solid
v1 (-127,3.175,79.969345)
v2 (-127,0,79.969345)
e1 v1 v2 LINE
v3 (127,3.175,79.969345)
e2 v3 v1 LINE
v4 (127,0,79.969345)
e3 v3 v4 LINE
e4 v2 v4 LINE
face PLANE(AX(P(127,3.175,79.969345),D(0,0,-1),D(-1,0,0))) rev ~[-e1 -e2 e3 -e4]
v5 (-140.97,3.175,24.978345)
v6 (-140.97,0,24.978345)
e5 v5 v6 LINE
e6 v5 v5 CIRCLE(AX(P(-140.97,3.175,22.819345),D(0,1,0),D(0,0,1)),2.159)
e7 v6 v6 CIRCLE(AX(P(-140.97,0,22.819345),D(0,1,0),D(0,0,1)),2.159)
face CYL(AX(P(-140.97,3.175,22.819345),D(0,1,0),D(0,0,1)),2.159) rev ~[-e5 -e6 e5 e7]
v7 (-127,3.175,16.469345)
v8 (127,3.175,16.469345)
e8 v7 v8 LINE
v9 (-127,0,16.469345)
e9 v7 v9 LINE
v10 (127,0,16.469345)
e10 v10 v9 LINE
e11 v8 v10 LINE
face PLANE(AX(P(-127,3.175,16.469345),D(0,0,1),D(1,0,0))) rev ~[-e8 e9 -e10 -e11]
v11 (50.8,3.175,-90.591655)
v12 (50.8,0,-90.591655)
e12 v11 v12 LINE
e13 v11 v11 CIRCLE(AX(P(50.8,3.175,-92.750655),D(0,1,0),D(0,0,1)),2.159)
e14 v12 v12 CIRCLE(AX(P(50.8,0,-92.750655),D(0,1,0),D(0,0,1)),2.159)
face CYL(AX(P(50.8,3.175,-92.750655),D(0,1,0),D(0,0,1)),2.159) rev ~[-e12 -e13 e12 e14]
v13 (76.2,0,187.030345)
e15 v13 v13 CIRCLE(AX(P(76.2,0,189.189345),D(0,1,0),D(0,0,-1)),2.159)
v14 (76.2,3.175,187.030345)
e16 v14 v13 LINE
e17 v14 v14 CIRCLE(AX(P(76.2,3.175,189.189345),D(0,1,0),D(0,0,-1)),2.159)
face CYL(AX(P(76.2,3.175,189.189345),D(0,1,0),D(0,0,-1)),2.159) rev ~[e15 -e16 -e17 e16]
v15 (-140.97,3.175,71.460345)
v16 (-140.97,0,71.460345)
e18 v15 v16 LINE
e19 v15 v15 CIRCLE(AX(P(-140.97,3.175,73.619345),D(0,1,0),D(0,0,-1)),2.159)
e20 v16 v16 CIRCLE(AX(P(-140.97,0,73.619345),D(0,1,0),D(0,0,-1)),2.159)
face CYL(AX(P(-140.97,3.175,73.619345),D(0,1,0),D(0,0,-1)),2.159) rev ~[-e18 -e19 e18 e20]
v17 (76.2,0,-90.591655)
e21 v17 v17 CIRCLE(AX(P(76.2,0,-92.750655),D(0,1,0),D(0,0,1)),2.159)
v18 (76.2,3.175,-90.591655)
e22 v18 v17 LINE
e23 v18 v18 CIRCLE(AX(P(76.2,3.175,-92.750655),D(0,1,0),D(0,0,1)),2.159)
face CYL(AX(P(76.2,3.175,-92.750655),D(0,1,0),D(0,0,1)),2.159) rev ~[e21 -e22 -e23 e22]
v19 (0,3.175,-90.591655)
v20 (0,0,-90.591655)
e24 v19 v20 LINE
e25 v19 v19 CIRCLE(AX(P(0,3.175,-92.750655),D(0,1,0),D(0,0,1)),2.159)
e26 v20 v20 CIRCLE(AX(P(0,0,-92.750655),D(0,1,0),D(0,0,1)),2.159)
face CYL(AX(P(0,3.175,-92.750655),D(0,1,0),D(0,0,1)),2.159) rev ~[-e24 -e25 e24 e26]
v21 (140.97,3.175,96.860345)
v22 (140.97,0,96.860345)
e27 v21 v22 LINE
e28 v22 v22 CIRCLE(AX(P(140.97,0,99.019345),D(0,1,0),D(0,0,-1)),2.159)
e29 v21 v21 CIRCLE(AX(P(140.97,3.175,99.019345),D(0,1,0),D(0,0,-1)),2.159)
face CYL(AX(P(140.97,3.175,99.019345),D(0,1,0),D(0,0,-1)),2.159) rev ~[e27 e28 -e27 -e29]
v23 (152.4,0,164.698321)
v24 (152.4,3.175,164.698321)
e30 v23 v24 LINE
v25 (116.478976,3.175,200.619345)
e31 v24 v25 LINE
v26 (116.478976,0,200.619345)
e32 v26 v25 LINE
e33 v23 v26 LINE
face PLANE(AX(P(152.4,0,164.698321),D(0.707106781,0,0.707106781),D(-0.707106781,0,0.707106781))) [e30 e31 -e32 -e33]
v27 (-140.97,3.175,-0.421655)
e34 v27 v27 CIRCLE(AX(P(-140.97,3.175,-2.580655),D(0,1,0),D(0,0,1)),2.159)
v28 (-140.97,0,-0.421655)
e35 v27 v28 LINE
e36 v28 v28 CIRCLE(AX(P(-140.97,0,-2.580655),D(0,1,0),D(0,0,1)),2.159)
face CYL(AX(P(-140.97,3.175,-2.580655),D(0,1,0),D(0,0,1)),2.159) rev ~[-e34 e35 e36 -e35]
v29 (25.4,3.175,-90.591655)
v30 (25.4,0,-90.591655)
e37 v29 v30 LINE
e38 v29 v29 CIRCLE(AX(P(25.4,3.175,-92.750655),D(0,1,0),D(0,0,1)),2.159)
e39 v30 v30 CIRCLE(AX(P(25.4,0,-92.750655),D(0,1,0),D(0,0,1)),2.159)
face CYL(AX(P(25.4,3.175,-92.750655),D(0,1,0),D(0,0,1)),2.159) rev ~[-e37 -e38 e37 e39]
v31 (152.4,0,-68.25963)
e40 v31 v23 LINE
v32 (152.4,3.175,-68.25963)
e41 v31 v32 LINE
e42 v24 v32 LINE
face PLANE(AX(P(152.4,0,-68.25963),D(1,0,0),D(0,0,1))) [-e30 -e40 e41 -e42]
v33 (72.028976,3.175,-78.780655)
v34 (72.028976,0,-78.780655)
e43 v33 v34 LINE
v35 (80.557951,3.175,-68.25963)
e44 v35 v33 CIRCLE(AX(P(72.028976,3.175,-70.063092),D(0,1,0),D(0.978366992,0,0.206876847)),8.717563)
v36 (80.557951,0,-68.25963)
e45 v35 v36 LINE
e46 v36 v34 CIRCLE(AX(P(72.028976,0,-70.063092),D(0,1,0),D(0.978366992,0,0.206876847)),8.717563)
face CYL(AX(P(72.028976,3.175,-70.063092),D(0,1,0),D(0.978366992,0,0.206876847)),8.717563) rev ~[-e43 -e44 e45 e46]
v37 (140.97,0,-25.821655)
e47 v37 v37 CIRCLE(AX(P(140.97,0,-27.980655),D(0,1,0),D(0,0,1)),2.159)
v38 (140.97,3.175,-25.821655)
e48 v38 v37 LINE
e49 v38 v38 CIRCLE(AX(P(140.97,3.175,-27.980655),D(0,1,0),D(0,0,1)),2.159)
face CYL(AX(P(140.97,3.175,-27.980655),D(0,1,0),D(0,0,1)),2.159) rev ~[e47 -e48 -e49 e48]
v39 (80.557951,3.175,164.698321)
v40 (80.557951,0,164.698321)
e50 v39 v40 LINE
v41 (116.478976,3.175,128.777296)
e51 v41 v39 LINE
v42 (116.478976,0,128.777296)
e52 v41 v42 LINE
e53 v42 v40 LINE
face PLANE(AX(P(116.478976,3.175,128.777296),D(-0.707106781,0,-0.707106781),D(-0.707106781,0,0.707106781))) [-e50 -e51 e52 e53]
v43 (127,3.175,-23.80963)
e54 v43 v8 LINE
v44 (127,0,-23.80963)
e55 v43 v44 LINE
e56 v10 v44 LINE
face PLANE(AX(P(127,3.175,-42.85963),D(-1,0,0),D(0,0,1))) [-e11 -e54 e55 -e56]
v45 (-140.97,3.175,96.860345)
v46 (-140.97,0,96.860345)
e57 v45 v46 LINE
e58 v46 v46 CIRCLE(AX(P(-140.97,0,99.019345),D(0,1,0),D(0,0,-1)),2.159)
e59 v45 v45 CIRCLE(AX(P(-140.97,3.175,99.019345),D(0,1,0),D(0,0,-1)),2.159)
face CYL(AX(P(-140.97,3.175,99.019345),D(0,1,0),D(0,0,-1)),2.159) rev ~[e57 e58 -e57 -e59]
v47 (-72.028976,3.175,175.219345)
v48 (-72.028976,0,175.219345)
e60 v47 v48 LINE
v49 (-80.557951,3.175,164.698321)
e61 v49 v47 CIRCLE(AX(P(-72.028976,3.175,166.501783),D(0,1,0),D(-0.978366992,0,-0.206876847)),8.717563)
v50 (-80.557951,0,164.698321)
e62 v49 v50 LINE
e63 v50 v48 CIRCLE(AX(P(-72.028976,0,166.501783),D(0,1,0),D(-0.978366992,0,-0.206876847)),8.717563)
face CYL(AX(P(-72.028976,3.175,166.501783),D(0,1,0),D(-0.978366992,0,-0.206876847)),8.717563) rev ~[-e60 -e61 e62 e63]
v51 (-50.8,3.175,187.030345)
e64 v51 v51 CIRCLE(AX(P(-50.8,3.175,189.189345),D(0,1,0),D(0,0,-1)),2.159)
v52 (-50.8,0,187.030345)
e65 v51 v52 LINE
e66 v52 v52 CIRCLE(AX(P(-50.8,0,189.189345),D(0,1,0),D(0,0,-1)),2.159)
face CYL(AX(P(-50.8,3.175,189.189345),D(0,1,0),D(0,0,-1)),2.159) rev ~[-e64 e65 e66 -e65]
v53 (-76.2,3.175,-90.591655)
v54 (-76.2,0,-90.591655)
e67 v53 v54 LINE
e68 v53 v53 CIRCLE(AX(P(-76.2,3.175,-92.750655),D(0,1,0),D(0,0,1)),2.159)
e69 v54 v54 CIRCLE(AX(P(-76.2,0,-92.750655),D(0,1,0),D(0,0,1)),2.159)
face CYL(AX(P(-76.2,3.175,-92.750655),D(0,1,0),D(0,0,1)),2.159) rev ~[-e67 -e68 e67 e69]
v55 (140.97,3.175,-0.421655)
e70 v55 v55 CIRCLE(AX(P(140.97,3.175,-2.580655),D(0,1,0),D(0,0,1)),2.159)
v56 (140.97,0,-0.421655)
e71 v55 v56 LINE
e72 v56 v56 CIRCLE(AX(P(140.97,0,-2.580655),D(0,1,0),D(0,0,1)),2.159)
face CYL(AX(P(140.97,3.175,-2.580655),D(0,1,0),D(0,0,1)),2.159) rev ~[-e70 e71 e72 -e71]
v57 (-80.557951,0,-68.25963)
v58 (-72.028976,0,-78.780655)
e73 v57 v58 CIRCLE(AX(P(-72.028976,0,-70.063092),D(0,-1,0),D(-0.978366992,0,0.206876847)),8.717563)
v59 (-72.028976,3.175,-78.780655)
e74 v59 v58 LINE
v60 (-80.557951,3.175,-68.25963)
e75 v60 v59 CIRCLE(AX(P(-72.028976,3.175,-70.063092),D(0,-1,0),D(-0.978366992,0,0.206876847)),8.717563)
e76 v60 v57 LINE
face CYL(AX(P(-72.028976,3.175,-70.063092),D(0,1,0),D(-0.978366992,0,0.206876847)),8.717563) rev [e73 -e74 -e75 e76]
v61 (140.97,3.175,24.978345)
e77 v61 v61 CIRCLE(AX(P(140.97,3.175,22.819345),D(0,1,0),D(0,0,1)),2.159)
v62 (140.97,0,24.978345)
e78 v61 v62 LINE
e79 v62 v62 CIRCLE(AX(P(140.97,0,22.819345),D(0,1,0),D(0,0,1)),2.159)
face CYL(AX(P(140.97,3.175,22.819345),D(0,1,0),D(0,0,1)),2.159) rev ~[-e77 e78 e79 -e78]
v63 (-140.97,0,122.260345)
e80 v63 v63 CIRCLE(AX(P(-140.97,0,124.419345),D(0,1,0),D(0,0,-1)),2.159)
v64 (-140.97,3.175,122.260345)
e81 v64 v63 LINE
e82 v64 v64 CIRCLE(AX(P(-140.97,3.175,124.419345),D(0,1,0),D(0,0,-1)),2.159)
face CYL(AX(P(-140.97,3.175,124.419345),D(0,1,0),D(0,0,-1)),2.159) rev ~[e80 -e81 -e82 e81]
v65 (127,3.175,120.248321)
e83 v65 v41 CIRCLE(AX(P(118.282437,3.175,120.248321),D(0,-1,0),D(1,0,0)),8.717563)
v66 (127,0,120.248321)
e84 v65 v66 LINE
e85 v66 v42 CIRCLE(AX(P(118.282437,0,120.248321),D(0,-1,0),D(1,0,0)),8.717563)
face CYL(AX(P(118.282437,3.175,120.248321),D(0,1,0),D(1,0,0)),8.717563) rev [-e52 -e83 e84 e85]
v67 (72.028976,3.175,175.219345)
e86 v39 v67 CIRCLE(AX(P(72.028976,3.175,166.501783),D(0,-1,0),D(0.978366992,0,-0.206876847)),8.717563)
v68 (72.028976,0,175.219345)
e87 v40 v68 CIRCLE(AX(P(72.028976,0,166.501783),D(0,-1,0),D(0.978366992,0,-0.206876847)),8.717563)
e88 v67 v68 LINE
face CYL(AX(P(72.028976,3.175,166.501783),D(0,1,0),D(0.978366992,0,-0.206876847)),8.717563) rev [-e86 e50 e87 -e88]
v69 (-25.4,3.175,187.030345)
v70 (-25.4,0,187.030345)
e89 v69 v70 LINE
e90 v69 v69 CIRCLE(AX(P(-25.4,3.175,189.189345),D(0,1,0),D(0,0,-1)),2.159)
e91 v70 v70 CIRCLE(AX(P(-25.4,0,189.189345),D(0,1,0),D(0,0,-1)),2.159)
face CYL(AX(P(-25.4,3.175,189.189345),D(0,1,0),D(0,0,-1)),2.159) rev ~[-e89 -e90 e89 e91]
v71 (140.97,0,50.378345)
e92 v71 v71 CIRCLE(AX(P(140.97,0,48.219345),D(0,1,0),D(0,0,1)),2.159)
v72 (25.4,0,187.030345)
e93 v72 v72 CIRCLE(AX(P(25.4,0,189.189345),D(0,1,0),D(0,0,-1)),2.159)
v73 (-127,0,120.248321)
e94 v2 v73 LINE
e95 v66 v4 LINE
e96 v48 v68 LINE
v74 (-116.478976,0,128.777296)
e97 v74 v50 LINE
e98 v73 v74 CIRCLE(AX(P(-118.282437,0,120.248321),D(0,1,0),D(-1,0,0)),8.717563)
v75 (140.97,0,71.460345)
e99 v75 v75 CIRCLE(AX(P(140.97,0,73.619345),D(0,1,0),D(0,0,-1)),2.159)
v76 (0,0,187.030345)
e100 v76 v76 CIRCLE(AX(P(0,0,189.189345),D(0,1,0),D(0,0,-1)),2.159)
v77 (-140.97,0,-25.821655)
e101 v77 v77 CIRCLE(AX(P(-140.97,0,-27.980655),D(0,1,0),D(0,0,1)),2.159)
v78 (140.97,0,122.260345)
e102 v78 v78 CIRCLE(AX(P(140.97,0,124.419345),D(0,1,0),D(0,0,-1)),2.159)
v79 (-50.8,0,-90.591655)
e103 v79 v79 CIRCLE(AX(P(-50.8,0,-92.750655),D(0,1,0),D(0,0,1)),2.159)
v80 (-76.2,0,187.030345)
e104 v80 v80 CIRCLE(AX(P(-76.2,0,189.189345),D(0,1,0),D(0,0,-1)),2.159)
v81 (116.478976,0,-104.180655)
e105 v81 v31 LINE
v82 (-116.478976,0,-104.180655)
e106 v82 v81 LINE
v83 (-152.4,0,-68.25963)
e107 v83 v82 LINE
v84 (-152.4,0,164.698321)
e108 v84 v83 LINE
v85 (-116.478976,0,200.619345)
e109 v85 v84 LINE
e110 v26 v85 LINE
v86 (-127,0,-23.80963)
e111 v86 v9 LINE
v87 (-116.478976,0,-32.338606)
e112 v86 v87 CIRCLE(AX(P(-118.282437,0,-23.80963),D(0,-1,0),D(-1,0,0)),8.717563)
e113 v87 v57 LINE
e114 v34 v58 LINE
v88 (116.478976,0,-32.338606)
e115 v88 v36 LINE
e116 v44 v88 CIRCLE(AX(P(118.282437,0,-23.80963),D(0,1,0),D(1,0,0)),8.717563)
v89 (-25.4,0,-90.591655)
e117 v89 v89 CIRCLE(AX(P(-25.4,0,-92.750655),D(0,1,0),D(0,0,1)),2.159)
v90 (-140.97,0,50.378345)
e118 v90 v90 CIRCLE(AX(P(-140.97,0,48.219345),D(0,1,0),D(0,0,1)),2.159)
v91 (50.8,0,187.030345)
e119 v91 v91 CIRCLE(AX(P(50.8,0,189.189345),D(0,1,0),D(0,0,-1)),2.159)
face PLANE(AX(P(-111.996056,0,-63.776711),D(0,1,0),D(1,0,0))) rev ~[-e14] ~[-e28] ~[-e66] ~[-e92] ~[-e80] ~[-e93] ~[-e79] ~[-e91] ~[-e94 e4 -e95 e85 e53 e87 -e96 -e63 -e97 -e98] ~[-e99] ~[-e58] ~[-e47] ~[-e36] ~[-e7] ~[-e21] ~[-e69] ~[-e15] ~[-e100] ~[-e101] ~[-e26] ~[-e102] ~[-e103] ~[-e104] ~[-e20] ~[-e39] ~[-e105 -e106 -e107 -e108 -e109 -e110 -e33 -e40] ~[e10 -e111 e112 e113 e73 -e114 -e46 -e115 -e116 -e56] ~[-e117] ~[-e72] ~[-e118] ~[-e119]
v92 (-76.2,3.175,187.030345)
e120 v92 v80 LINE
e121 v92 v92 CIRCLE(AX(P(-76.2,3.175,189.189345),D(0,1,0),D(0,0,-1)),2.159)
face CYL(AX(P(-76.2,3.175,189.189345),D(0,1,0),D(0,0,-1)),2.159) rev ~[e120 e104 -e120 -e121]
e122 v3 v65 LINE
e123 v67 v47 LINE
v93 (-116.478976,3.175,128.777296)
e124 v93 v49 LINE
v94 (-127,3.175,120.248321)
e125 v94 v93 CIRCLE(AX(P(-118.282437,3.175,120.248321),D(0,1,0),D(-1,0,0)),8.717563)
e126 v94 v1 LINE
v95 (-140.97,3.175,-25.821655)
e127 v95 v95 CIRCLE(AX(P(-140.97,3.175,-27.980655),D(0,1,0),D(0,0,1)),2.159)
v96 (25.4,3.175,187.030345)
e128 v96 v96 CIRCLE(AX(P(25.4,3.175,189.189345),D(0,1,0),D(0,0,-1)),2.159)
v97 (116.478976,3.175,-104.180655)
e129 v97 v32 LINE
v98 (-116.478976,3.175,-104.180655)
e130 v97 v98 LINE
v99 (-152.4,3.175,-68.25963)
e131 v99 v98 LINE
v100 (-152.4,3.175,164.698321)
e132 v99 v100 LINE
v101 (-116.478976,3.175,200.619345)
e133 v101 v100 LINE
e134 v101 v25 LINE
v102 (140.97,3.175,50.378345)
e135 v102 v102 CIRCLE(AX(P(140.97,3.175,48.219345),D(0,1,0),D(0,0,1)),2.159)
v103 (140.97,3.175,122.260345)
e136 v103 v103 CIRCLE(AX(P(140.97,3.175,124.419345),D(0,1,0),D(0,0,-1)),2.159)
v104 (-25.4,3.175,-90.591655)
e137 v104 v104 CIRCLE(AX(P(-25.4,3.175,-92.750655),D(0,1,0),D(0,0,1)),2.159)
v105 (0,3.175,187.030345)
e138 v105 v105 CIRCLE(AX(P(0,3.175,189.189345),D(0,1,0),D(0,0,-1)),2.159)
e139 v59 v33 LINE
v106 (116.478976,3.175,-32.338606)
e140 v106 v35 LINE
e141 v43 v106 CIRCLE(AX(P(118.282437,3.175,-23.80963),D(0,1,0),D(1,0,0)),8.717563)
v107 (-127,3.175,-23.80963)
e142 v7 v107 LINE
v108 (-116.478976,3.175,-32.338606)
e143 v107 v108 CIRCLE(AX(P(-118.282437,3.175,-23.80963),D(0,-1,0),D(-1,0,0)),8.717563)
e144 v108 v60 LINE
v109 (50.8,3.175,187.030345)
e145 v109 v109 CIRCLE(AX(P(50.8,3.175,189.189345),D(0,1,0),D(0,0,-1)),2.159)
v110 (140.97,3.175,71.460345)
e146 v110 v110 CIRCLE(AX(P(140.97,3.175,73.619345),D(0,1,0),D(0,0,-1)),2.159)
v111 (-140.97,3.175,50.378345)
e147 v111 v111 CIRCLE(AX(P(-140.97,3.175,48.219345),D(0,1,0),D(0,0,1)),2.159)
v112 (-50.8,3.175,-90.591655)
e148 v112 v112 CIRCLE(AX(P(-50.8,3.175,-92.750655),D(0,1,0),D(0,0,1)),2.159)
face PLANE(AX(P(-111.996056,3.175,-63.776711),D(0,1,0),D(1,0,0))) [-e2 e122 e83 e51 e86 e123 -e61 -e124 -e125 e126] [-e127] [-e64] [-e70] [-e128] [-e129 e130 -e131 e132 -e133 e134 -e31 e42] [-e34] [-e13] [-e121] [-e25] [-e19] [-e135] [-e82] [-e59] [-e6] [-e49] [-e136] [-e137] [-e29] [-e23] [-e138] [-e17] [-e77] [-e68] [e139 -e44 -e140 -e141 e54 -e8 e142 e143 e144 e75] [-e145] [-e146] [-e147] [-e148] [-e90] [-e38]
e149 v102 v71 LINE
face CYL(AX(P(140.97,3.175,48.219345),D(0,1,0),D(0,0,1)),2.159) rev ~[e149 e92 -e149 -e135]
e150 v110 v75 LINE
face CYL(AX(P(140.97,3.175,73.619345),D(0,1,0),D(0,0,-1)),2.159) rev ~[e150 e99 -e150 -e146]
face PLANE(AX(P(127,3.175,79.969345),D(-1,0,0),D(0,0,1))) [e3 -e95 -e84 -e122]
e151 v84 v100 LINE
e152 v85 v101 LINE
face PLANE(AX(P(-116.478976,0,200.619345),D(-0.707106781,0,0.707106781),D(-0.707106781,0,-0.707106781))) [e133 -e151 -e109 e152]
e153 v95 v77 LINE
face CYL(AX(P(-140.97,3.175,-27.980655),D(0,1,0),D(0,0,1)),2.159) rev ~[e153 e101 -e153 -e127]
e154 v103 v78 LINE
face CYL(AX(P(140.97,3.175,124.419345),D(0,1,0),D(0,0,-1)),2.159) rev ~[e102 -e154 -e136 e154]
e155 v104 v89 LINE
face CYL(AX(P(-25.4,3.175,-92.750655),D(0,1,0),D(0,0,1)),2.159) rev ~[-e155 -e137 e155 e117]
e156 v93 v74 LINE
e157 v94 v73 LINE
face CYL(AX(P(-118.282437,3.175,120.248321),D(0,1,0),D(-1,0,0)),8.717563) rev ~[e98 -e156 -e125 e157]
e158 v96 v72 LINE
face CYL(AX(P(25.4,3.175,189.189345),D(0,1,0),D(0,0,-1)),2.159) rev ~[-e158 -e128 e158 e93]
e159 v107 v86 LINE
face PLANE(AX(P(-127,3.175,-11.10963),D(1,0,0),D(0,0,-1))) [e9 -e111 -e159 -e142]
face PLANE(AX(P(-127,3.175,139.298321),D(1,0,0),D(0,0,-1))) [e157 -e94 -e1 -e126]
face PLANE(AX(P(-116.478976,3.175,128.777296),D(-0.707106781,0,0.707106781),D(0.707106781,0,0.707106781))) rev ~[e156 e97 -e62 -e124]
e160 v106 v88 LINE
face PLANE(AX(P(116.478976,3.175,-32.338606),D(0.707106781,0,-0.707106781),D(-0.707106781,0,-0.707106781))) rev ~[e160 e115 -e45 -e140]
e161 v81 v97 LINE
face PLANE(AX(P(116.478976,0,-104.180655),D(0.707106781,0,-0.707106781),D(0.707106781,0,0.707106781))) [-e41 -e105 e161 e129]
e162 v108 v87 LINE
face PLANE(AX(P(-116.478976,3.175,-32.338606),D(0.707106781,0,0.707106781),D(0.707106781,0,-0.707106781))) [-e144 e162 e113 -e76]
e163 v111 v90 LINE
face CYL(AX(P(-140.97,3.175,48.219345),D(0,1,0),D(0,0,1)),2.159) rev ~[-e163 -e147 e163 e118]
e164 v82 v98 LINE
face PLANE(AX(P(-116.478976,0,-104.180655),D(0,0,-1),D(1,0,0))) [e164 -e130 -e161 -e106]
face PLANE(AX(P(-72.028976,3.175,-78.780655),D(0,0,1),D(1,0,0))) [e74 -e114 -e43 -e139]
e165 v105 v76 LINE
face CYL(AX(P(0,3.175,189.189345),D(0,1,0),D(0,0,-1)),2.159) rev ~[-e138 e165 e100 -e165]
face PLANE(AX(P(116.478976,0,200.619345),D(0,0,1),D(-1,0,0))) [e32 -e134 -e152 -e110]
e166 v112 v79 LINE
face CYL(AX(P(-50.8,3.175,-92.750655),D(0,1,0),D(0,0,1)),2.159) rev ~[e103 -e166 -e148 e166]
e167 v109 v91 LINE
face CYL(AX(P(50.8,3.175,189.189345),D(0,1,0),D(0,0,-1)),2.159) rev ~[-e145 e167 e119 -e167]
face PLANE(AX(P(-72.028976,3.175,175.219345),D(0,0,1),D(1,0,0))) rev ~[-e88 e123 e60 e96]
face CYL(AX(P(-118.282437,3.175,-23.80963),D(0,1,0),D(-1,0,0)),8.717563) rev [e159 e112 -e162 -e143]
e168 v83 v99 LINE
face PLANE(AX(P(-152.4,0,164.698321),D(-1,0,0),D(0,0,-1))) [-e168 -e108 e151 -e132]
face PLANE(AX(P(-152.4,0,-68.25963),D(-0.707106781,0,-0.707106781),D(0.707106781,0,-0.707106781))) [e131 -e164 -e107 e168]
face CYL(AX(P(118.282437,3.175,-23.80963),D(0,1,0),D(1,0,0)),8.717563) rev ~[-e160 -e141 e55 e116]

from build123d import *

# Parameters (mm, degrees)
BOSS_EXTRUDE1_DEPTH = 3.175
CUT_EXTRUDE1_DEPTH  = 252.960239461
BOSS_EXTRUDE2_DEPTH = 3.175
SKETCH4_R           = 2.159
CUT_EXTRUDE2_DEPTH  = 252.960239461


with BuildPart() as part:
    # Sketch1 → Boss-Extrude1 (new body)
    with BuildSketch(Plane(origin=(0, 0, 0), x_dir=(1, 0, 0), z_dir=(0, 1, 0))):
        Polygon((-152.4, 68.259630377), (-116.478975516, 104.180654861), (116.478975516, 104.180654861), (152.4, 68.259630377), (152.4, -164.698320655), (116.478975516, -200.619345139), (-116.478975516, -200.619345139), (-152.4, -164.698320655), align=None)
    extrude(amount=BOSS_EXTRUDE1_DEPTH)

    # Sketch2 → Cut-Extrude1 (cut, through all)
    with BuildSketch(Plane(origin=(0, 3.175, 0), x_dir=(1, 0, 0), z_dir=(0, 1, 0))):
        Polygon((-91.078975516, 78.780654861), (91.078975516, 78.780654861), (127, 42.859630377), (127, -16.469345139), (82.442975516, -16.469345139), (-74.314975516, -16.469345139), (-127, -16.469345139), (-127, 42.859630377), align=None)
        Polygon((127, -139.298320655), (91.078975516, -175.219345139), (-91.078975516, -175.219345139), (-127, -139.298320655), (-127, -79.969345139), (-74.314975516, -79.969345139), (82.442975516, -79.969345139), (127, -79.969345139), align=None)
    extrude(amount=-CUT_EXTRUDE1_DEPTH, mode=Mode.SUBTRACT)

    # Sketch5 → Boss-Extrude2 (add)
    with BuildSketch(Plane(origin=(0, 3.175, 0), x_dir=(1, 0, 0), z_dir=(0, 1, 0))):
        with BuildLine():
            Line((-116.478975516, 32.338605892), (-80.557951031, 68.259630377))
            ThreePointArc((-80.557951031, 68.259630377), (-78.800891411, 75.552814743), (-72.028975516, 78.780654861))
            Line((-72.028975516, 78.780654861), (-59.328975516, 78.780654861))
            Line((-59.328975516, 78.780654861), (-59.328975516, 104.180654861))
            Line((-59.328975516, 104.180654861), (-116.478975516, 104.180654861))
            Line((-116.478975516, 104.180654861), (-152.4, 68.259630377))
            Line((-152.4, 68.259630377), (-152.4, 11.109630377))
            Line((-152.4, 11.109630377), (-127, 11.109630377))
            Line((-127, 11.109630377), (-127, 23.809630377))
            ThreePointArc((-127, 23.809630377), (-123.772159882, 30.581546271), (-116.478975516, 32.338605892))
        make_face()
        with BuildLine():
            Line((127, 11.109630377), (127, 23.809630377))
            ThreePointArc((127, 23.809630377), (123.772159882, 30.581546271), (116.478975516, 32.338605892))
            Line((116.478975516, 32.338605892), (80.557951031, 68.259630377))
            ThreePointArc((80.557951031, 68.259630377), (78.800891411, 75.552814743), (72.028975516, 78.780654861))
            Line((72.028975516, 78.780654861), (59.328975516, 78.780654861))
            Line((59.328975516, 78.780654861), (59.328975516, 104.180654861))
            Line((59.328975516, 104.180654861), (116.478975516, 104.180654861))
            Line((116.478975516, 104.180654861), (152.4, 68.259630377))
            Line((152.4, 68.259630377), (152.4, 11.109630377))
            Line((152.4, 11.109630377), (127, 11.109630377))
        make_face()
        with BuildLine():
            Line((116.478975516, -128.777296171), (80.557951031, -164.698320655))
            ThreePointArc((80.557951031, -164.698320655), (78.800891411, -171.991505021), (72.028975516, -175.219345139))
            Line((72.028975516, -175.219345139), (59.328975516, -175.219345139))
            Line((59.328975516, -175.219345139), (59.328975516, -200.619345139))
            Line((59.328975516, -200.619345139), (116.478975516, -200.619345139))
            Line((116.478975516, -200.619345139), (152.4, -164.698320655))
            Line((152.4, -164.698320655), (152.4, -107.548320655))
            Line((152.4, -107.548320655), (127, -107.548320655))
            Line((127, -107.548320655), (127, -120.248320655))
            ThreePointArc((127, -120.248320655), (123.772159882, -127.02023655), (116.478975516, -128.777296171))
        make_face()
        with BuildLine():
            Line((-127, -107.548320655), (-127, -120.248320655))
            ThreePointArc((-127, -120.248320655), (-123.772159882, -127.02023655), (-116.478975516, -128.777296171))
            Line((-116.478975516, -128.777296171), (-80.557951031, -164.698320655))
            ThreePointArc((-80.557951031, -164.698320655), (-78.800891411, -171.991505021), (-72.028975516, -175.219345139))
            Line((-72.028975516, -175.219345139), (-59.328975516, -175.219345139))
            Line((-59.328975516, -175.219345139), (-59.328975516, -200.619345139))
            Line((-59.328975516, -200.619345139), (-116.478975516, -200.619345139))
            Line((-116.478975516, -200.619345139), (-152.4, -164.698320655))
            Line((-152.4, -164.698320655), (-152.4, -107.548320655))
            Line((-152.4, -107.548320655), (-127, -107.548320655))
        make_face()
    extrude(amount=-BOSS_EXTRUDE2_DEPTH)

    # Sketch4 → Cut-Extrude2 (cut, through all)
    with BuildSketch(Plane(origin=(0, 3.175, 0), x_dir=(1, 0, 0), z_dir=(0, 1, 0))):
        with Locations(Location((0, 92.750654861, 0), (0, 0, 270))):
            Circle(SKETCH4_R)
        with Locations(Location((-50.8, 92.750654861, 0), (0, 0, 270))):
            Circle(SKETCH4_R)
        with Locations(Location((50.8, 92.750654861, 0), (0, 0, 270))):
            Circle(SKETCH4_R)
        with Locations(Location((-25.4, 92.750654861, 0), (0, 0, 270))):
            Circle(SKETCH4_R)
        with Locations(Location((25.4, 92.750654861, 0), (0, 0, 270))):
            Circle(SKETCH4_R)
        with Locations(Location((-140.97, -48.219345139, 0), (0, 0, 270))):
            Circle(SKETCH4_R)
        with Locations(Location((-140.97, -22.819345139, 0), (0, 0, 270))):
            Circle(SKETCH4_R)
        with Locations(Location((-140.97, 2.580654861, 0), (0, 0, 270))):
            Circle(SKETCH4_R)
        with Locations(Location((140.97, -48.219345139, 0), (0, 0, 270))):
            Circle(SKETCH4_R)
        with Locations(Location((140.97, -22.819345139, 0), (0, 0, 270))):
            Circle(SKETCH4_R)
        with Locations(Location((140.97, 2.580654861, 0), (0, 0, 270))):
            Circle(SKETCH4_R)
        with Locations(Location((140.97, -99.019345139, 0), (0, 0, 90))):
            Circle(SKETCH4_R)
        with Locations(Location((140.97, -73.619345139, 0), (0, 0, 90))):
            Circle(SKETCH4_R)
        with Locations(Location((-140.97, -99.019345139, 0), (0, 0, 90))):
            Circle(SKETCH4_R)
        with Locations(Location((-140.97, -73.619345139, 0), (0, 0, 90))):
            Circle(SKETCH4_R)
        with Locations(Location((25.4, -189.189345139, 0), (0, 0, 90))):
            Circle(SKETCH4_R)
        with Locations(Location((-25.4, -189.189345139, 0), (0, 0, 90))):
            Circle(SKETCH4_R)
        with Locations(Location((50.8, -189.189345139, 0), (0, 0, 90))):
            Circle(SKETCH4_R)
        with Locations(Location((-50.8, -189.189345139, 0), (0, 0, 90))):
            Circle(SKETCH4_R)
        with Locations(Location((0, -189.189345139, 0), (0, 0, 90))):
            Circle(SKETCH4_R)
        with Locations(Location((-76.2, 92.750654861, 0), (0, 0, 270))):
            Circle(SKETCH4_R)
        with Locations(Location((76.2, 92.750654861, 0), (0, 0, 270))):
            Circle(SKETCH4_R)
        with Locations(Location((-140.97, 27.980654861, 0), (0, 0, 270))):
            Circle(SKETCH4_R)
        with Locations(Location((140.97, 27.980654861, 0), (0, 0, 270))):
            Circle(SKETCH4_R)
        with Locations(Location((140.97, -124.419345139, 0), (0, 0, 90))):
            Circle(SKETCH4_R)
        with Locations(Location((76.2, -189.189345139, 0), (0, 0, 90))):
            Circle(SKETCH4_R)
        with Locations(Location((-76.2, -189.189345139, 0), (0, 0, 90))):
            Circle(SKETCH4_R)
        with Locations(Location((-140.97, -124.419345139, 0), (0, 0, 90))):
            Circle(SKETCH4_R)
    extrude(amount=-CUT_EXTRUDE2_DEPTH, mode=Mode.SUBTRACT)


solid = part.part
